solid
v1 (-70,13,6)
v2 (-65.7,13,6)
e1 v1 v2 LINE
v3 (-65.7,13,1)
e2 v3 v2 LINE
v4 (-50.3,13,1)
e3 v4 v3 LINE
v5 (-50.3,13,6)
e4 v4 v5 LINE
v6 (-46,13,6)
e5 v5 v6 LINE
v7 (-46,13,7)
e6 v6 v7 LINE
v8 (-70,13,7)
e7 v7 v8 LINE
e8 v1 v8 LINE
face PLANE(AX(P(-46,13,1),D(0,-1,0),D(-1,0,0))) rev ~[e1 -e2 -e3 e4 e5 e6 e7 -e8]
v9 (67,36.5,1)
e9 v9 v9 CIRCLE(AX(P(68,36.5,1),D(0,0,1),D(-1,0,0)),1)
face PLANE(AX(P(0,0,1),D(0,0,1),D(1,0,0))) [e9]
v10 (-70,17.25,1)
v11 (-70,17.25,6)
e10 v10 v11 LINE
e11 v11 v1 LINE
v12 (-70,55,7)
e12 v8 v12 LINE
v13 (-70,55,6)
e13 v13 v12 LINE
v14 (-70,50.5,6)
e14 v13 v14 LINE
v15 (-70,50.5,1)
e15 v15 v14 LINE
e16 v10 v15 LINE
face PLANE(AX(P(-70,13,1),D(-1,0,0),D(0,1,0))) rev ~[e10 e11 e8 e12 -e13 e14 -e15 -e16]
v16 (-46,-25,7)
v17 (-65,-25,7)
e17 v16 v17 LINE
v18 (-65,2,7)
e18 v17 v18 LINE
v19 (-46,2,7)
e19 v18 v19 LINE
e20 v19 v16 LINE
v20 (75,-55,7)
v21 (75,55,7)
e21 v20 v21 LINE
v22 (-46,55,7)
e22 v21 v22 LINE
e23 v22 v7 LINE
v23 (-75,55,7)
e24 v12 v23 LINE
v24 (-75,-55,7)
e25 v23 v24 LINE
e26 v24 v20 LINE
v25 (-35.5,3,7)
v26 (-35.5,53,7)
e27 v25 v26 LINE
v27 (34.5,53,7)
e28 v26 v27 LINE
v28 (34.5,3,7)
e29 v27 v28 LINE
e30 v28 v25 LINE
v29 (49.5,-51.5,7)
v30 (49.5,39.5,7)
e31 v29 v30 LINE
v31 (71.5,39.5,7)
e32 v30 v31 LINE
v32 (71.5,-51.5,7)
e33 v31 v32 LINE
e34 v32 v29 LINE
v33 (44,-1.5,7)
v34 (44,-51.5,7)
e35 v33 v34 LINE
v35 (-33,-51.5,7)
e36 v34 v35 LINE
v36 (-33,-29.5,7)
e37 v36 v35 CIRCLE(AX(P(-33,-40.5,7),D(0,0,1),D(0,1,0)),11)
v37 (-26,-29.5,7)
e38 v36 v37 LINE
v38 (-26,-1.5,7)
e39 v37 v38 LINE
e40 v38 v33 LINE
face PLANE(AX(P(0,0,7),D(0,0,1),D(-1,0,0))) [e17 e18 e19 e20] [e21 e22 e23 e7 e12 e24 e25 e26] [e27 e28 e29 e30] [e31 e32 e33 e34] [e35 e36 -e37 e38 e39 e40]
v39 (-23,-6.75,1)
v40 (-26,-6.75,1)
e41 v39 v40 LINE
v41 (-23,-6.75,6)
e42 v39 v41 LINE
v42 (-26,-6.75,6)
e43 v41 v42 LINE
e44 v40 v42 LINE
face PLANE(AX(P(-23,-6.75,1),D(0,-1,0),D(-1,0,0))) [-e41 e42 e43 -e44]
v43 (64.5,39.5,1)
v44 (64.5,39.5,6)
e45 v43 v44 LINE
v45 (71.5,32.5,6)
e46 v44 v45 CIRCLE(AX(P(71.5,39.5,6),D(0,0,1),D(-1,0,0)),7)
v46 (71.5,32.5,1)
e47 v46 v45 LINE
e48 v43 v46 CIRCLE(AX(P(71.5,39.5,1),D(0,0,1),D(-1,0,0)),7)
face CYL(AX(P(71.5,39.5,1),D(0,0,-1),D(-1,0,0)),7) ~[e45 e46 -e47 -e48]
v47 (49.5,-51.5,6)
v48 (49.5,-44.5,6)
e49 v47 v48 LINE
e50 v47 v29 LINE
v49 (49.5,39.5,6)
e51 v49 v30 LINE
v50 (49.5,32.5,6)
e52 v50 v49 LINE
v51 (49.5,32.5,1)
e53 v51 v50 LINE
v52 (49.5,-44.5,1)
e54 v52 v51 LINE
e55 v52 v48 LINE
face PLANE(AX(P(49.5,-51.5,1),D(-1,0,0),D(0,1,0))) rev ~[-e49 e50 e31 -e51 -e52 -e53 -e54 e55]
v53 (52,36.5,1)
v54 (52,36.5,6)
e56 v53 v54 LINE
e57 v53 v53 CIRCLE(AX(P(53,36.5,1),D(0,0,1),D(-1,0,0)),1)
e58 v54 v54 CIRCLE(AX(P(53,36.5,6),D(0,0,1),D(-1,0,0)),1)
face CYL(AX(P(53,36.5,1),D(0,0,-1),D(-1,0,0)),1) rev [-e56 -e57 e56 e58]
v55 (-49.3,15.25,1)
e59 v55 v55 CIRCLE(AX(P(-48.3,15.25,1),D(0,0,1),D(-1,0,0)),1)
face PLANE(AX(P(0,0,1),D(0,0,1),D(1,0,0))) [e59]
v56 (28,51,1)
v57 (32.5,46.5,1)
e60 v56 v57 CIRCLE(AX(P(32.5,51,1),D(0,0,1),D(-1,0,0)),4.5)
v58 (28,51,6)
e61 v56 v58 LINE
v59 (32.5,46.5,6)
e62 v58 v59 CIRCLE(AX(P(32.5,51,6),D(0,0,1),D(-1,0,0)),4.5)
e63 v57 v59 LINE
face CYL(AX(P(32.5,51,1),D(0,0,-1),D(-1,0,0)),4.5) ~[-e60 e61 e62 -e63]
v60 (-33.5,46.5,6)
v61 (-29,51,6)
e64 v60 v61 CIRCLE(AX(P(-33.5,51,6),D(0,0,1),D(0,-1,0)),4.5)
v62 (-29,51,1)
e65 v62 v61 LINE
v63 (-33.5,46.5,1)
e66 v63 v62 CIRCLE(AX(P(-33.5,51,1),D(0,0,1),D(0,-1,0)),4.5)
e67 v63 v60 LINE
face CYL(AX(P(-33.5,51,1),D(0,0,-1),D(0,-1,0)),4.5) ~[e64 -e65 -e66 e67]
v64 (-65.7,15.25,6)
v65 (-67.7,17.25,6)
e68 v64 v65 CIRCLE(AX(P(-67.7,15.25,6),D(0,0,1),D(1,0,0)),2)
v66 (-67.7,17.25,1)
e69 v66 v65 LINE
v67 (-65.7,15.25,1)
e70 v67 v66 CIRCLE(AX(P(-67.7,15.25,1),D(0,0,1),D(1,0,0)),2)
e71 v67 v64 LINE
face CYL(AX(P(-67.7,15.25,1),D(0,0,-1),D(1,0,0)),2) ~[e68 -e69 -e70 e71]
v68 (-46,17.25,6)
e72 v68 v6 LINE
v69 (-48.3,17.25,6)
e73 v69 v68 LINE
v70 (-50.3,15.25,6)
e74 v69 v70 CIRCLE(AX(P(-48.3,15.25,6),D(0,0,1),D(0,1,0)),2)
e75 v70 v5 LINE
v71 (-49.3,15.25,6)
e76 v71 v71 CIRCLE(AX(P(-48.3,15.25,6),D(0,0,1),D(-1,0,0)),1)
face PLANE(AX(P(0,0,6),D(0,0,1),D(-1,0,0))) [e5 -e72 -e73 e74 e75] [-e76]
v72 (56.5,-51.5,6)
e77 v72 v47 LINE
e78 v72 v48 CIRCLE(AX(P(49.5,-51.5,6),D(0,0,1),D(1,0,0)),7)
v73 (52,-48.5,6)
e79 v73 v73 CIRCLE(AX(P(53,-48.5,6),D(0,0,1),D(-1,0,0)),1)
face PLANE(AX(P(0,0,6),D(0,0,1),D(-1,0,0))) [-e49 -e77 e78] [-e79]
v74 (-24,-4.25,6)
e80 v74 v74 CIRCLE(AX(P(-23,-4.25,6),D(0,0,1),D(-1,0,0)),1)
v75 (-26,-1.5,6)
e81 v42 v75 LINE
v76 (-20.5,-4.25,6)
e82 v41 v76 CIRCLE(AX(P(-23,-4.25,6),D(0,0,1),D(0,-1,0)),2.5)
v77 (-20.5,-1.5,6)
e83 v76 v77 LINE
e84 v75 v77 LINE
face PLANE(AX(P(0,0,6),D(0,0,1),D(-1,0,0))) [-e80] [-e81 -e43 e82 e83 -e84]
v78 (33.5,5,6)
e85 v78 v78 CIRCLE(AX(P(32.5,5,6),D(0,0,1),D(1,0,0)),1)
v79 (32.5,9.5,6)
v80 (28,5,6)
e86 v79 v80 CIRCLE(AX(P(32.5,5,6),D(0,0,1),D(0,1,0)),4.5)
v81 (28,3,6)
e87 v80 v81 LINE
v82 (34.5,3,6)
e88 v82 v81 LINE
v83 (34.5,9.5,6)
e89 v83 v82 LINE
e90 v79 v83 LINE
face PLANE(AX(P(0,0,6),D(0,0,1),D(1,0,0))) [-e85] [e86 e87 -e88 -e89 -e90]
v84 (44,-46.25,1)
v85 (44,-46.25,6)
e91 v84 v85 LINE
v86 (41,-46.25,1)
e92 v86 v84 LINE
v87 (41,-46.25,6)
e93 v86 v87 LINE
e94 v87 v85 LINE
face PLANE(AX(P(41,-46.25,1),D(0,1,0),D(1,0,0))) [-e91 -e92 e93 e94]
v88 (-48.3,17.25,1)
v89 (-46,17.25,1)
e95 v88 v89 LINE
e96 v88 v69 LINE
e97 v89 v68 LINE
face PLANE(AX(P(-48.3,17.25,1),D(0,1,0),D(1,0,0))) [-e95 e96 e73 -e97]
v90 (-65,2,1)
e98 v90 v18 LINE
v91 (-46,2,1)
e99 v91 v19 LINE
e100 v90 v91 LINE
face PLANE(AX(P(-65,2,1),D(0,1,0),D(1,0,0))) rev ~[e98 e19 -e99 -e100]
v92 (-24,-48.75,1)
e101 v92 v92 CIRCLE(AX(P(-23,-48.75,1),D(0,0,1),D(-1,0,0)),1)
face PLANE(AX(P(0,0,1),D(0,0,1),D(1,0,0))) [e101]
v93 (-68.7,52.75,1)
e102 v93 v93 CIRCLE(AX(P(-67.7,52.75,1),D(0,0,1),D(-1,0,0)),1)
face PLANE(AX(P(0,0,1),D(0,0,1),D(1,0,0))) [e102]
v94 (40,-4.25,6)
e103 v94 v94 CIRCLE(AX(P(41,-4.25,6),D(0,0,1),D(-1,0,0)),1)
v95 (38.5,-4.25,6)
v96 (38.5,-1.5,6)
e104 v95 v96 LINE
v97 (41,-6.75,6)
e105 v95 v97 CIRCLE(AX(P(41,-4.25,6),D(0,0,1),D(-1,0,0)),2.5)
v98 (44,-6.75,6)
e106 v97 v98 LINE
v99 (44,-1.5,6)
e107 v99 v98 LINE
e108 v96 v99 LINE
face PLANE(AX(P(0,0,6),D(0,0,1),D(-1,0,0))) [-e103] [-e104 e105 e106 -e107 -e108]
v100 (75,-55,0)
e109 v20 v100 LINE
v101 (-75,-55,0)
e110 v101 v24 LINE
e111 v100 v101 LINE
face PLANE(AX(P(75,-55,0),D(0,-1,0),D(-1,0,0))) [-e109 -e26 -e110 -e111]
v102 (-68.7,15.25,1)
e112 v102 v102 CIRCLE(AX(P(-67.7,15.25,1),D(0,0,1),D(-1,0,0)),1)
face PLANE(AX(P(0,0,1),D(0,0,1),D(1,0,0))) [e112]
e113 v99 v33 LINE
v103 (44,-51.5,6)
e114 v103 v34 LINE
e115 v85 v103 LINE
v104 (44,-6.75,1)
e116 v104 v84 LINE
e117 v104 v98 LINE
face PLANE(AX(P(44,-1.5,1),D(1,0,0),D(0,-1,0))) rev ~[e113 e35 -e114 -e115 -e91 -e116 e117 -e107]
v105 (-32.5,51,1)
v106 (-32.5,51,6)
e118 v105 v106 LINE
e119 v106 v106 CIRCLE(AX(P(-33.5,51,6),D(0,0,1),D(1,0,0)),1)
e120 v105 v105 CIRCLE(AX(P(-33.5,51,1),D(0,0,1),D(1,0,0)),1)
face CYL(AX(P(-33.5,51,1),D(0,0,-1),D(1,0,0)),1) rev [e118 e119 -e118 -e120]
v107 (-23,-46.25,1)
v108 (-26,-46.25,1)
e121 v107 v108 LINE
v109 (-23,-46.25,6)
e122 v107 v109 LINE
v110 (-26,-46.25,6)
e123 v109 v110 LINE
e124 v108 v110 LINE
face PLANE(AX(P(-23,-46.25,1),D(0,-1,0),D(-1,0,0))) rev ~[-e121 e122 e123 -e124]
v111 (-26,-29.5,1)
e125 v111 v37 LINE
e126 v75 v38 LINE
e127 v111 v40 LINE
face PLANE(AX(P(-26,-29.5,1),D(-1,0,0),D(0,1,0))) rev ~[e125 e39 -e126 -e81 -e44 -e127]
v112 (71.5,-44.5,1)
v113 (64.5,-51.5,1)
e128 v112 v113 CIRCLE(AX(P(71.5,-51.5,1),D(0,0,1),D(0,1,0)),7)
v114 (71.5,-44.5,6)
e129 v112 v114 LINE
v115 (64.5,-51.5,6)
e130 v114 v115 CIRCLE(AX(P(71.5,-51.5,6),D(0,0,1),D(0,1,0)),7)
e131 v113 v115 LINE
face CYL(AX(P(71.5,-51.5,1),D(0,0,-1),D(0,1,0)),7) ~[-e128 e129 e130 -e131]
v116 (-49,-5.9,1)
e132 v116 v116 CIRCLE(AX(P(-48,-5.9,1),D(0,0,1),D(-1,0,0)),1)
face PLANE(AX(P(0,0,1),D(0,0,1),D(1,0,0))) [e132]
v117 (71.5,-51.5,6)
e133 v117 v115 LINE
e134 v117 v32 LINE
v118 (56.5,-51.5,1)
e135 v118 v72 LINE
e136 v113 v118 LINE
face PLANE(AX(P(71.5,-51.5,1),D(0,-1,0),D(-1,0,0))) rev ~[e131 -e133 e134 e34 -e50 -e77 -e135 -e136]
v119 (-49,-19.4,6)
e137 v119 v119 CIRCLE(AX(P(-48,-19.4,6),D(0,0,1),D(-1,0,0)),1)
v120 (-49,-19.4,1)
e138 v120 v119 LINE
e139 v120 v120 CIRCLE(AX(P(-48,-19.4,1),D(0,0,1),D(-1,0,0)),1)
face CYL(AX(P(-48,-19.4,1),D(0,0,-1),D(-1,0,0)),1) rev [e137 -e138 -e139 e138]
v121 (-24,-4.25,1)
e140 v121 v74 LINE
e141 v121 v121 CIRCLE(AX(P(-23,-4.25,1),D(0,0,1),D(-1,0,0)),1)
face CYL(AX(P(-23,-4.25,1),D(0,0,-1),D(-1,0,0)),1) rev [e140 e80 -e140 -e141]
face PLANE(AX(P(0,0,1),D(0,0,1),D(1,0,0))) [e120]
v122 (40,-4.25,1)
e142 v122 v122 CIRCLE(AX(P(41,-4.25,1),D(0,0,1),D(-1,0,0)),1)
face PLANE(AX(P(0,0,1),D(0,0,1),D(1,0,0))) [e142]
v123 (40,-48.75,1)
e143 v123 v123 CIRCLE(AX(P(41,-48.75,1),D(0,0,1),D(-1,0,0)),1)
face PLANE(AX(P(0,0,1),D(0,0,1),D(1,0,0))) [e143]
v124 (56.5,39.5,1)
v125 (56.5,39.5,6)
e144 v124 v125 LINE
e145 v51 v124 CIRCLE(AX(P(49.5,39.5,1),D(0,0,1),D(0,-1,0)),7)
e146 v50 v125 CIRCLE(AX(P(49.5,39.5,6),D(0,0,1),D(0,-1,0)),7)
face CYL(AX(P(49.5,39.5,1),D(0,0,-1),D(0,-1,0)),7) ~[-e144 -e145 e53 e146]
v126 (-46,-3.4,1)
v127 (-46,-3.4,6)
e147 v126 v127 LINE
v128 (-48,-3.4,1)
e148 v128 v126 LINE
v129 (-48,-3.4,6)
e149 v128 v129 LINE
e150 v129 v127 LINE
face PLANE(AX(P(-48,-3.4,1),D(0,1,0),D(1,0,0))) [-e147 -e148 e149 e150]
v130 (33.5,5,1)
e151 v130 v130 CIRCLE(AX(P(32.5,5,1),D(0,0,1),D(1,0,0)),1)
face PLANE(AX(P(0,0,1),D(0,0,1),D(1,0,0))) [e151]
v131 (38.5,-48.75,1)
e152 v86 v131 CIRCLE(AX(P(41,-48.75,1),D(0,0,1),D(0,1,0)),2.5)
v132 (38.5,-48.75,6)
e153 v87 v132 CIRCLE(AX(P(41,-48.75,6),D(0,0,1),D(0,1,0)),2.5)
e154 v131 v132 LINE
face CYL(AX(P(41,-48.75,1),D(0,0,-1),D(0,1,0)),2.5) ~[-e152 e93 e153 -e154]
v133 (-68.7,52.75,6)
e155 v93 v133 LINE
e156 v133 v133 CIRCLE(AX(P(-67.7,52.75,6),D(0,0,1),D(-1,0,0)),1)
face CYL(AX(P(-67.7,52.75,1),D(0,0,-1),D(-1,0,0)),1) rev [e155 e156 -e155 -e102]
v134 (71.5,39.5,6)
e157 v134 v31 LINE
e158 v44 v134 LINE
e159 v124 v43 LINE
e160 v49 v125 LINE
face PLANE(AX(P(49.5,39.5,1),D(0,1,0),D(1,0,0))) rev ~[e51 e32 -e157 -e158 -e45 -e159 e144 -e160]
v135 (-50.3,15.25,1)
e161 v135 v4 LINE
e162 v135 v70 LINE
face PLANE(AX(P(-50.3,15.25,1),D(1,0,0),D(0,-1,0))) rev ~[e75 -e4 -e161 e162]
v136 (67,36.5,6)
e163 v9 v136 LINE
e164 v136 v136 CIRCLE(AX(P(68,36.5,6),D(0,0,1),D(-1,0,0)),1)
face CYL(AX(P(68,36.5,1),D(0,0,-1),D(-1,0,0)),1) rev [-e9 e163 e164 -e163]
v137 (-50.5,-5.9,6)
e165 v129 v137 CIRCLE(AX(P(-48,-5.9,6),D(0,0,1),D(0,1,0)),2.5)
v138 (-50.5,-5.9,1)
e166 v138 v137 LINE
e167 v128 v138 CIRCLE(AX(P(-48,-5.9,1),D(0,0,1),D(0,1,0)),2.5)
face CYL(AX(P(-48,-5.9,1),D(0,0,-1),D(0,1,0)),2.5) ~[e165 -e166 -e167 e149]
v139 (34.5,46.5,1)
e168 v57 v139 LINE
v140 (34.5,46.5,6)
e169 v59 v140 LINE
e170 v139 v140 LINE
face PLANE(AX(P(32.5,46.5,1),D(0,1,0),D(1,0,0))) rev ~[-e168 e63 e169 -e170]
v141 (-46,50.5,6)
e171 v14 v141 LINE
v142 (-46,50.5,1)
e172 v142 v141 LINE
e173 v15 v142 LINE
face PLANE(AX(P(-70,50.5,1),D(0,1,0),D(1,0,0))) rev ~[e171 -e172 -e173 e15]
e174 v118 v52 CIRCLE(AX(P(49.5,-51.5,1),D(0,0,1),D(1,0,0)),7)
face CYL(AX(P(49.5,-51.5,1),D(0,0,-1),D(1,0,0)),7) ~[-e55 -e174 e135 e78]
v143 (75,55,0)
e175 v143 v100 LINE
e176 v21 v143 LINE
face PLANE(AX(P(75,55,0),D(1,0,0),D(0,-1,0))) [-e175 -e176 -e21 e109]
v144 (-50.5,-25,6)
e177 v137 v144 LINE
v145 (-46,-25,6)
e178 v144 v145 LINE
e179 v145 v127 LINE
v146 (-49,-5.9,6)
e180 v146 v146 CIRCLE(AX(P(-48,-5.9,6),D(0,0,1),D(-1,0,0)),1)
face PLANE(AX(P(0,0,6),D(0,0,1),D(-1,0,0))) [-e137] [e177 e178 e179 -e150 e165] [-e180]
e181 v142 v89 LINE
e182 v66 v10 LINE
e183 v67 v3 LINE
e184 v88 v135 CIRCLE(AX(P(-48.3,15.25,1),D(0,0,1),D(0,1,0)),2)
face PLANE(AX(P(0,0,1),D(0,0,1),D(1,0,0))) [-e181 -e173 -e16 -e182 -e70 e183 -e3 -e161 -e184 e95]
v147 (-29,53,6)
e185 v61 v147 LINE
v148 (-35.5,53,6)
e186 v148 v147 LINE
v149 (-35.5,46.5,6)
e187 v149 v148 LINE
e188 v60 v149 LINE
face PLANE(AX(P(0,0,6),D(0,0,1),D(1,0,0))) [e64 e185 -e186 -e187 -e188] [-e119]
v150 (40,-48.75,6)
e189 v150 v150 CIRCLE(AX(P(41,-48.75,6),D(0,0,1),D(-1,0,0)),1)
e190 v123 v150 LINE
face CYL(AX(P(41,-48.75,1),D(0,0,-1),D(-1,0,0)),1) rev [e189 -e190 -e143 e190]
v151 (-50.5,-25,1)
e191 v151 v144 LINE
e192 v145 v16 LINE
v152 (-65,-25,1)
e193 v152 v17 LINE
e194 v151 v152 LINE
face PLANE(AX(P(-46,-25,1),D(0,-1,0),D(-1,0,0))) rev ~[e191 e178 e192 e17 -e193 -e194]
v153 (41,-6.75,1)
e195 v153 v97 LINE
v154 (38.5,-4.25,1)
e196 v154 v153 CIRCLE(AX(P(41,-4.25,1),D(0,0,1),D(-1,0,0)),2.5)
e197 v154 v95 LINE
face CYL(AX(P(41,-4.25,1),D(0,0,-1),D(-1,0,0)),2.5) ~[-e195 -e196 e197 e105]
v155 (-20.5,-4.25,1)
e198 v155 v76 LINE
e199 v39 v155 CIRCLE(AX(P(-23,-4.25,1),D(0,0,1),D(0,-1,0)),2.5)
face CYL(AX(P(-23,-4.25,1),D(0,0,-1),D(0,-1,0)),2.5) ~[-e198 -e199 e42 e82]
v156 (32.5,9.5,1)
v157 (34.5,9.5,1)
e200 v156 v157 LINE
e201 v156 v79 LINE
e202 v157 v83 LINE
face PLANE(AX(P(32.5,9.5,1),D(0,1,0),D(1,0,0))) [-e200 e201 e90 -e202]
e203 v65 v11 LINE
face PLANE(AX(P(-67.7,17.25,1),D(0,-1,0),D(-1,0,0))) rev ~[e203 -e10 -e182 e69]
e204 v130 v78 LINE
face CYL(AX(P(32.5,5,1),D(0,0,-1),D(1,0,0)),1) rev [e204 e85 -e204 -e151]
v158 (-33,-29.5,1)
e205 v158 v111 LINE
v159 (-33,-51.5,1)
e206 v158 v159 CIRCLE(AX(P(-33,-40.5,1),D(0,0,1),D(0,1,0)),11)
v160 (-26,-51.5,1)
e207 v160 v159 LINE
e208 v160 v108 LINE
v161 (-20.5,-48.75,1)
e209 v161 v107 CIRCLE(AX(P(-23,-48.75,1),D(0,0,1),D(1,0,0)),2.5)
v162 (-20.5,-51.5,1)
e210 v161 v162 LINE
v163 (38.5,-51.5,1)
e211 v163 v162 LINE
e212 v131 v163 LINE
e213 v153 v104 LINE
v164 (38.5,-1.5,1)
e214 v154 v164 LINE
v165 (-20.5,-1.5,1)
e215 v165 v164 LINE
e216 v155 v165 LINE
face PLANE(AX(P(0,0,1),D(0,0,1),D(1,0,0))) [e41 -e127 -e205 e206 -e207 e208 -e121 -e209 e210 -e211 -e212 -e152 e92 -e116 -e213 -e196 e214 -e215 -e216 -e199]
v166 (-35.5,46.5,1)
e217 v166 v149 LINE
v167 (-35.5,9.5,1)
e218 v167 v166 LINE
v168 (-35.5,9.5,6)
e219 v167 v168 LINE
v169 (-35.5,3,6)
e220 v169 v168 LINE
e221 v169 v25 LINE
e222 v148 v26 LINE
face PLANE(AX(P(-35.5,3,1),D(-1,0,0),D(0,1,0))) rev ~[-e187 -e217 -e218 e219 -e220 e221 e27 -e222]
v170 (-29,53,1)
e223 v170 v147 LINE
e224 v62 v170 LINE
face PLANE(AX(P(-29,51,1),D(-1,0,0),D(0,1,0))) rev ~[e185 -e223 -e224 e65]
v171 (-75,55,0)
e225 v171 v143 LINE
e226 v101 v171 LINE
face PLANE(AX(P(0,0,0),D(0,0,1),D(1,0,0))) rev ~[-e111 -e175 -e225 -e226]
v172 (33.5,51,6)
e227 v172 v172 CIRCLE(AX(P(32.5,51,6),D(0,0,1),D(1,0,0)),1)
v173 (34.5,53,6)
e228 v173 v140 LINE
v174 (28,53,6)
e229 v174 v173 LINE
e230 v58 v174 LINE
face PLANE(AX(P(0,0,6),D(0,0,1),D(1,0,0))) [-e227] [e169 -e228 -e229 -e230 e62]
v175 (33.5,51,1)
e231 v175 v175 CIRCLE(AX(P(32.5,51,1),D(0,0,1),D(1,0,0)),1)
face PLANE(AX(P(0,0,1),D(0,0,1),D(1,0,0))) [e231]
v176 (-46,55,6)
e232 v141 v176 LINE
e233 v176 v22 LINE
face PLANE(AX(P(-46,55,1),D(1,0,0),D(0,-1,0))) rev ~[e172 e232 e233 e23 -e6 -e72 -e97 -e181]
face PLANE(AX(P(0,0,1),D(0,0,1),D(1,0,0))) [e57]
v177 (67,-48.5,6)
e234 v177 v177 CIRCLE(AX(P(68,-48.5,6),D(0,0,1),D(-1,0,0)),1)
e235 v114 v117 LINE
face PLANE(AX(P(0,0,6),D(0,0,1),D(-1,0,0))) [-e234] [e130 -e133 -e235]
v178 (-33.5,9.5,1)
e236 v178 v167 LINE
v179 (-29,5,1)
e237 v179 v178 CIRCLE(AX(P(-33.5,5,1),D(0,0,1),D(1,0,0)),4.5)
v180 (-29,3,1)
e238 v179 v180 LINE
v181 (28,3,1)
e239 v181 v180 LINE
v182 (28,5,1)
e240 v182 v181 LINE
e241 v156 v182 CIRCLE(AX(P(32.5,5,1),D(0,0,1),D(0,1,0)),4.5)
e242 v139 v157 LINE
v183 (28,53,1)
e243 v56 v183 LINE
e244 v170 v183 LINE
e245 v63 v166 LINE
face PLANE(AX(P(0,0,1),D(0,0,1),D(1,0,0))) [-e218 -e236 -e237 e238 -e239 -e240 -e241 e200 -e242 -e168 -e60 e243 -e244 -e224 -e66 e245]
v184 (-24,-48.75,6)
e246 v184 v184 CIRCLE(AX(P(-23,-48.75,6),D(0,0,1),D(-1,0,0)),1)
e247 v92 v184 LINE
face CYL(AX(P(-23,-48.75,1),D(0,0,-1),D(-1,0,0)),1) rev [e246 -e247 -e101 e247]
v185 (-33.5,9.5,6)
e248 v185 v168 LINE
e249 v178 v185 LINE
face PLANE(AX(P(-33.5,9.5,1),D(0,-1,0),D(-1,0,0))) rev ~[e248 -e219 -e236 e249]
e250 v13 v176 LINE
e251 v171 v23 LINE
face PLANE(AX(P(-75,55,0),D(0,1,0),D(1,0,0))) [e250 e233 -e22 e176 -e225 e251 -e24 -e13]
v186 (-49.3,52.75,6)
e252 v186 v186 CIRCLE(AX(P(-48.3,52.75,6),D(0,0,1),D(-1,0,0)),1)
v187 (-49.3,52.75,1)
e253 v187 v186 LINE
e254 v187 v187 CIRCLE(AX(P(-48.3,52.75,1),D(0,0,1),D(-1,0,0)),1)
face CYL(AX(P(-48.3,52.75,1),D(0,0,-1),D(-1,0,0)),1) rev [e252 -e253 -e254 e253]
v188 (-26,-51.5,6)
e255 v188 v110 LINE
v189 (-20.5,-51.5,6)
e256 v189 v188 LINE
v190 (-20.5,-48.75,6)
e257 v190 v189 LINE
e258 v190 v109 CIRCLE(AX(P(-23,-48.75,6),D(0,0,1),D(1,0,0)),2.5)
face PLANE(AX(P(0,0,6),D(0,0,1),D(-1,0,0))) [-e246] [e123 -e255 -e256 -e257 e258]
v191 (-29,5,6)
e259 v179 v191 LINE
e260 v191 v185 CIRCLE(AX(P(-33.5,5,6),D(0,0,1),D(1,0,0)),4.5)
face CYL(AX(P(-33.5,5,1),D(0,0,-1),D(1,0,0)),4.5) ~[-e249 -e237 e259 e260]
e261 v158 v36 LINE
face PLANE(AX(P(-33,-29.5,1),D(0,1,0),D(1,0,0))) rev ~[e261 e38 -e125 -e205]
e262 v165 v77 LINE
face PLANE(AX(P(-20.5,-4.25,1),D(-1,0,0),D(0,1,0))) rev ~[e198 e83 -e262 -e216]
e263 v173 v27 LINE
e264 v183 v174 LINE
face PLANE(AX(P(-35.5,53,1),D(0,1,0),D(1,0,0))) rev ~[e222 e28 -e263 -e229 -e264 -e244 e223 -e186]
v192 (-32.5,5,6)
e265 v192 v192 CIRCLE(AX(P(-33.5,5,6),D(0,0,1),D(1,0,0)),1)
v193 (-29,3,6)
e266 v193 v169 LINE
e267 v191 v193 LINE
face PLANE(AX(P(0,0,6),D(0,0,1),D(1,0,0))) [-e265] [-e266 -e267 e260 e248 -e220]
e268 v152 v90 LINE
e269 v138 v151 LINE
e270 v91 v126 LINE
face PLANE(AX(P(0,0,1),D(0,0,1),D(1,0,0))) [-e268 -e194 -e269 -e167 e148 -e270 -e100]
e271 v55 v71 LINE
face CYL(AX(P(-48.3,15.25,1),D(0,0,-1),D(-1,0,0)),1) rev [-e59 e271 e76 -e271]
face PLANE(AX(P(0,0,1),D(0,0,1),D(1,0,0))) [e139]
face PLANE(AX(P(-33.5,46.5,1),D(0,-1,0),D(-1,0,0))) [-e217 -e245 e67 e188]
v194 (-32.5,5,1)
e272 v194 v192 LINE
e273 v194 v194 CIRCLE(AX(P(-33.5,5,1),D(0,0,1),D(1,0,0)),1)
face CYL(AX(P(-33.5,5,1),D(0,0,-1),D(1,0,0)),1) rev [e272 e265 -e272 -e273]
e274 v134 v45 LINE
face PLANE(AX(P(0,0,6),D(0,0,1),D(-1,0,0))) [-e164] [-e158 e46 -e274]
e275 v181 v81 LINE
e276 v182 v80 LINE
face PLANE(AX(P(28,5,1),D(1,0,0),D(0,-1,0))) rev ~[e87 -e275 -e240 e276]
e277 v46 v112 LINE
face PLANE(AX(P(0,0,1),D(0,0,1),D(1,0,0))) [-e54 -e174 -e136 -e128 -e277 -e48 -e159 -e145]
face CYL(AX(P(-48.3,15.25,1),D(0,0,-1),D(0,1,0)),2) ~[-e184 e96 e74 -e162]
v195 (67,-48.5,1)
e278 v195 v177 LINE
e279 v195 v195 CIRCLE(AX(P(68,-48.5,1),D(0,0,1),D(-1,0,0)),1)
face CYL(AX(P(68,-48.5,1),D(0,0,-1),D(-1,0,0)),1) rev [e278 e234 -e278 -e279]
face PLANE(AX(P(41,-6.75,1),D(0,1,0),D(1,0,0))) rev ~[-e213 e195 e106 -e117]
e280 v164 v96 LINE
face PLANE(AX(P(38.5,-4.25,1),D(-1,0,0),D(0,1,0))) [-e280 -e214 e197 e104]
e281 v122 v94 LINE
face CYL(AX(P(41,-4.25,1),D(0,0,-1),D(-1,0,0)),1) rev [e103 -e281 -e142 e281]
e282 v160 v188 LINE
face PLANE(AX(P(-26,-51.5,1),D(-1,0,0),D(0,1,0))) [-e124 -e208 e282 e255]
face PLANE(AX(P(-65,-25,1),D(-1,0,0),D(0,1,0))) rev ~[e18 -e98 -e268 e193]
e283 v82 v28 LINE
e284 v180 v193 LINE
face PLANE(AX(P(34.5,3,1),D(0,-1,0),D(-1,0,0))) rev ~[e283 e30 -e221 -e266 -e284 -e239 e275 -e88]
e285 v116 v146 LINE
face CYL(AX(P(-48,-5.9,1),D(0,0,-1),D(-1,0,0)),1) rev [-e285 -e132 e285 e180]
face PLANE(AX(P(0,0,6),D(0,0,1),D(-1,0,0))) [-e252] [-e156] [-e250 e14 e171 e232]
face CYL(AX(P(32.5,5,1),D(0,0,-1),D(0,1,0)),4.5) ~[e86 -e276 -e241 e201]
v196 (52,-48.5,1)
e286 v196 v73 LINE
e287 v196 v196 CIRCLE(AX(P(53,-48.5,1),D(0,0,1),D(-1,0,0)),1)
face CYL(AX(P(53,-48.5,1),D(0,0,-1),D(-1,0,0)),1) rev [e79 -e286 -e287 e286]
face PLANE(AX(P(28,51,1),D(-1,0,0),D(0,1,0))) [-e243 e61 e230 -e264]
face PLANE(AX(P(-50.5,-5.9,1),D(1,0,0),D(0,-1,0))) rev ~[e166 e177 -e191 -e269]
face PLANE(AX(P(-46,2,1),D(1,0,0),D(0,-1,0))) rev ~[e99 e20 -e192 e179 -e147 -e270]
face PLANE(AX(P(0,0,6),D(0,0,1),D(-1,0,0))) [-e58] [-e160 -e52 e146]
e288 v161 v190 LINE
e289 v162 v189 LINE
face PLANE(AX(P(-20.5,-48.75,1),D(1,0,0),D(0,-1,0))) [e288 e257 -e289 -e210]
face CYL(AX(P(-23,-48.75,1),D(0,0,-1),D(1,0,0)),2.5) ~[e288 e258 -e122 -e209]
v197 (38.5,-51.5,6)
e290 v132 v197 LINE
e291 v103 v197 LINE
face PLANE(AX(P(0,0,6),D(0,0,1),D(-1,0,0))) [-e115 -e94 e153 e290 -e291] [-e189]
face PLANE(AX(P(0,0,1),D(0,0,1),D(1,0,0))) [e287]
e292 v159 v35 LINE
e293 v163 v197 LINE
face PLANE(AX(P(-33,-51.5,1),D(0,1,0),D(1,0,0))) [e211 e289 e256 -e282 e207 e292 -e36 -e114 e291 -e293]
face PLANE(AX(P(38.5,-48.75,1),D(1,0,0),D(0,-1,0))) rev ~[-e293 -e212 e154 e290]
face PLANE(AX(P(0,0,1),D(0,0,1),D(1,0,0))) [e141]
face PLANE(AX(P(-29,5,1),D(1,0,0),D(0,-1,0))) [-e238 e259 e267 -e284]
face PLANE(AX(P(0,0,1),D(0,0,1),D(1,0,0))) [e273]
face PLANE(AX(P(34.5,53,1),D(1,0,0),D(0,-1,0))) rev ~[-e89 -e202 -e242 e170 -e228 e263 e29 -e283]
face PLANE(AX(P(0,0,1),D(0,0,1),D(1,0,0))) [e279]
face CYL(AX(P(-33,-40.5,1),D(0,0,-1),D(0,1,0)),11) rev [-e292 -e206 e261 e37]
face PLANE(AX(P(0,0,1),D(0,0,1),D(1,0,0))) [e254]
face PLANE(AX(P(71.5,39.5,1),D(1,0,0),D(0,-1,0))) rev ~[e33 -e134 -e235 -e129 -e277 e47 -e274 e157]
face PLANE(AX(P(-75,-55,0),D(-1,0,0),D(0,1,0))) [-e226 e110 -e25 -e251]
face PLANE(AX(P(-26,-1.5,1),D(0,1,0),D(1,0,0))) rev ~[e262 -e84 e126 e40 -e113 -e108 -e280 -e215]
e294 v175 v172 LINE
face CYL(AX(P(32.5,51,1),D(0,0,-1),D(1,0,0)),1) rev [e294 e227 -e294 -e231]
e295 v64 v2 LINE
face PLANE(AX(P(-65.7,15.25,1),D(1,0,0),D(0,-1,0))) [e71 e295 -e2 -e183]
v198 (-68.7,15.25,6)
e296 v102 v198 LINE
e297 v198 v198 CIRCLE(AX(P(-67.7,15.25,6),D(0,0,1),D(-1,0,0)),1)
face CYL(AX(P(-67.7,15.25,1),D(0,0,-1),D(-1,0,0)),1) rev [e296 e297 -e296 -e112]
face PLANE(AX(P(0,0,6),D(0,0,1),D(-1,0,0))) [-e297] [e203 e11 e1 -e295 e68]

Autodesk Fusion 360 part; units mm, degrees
sketch "Sketch1" plane through (0, 0, 0) normal (0, 0, 1) x (1, 0, 0)
  line L0 (-75, 55) -> (75, 55)
  line L1 (75, 55) -> (75, -55)
  line L2 (75, -55) -> (-75, -55)
  line L3 (-75, -55) -> (-75, 55)
  line L4 (75, -55) -> (-75, 55) construction
  dimension "d1" = 150
  dimension "d2" = 110
extrude "Extrude1" add sketch "Sketch1" along normal blind 1
sketch "Sketch2" plane through (0, 0, 1) normal (0, 0, 1) x (-1, 0, 0)
  line L0 (75, 55) -> (-75, 55)
  line L1 (-75, 55) -> (-75, -55)
  line L2 (-75, -55) -> (75, -55)
  line L3 (75, -55) -> (75, 55)
  line L4 (35.5, -53) -> (-34.5, -53)
  line L5 (-34.5, -53) -> (-34.5, -3)
  line L6 (-34.5, -3) -> (35.5, -3)
  line L7 (35.5, -3) -> (35.5, -53)
  line L8 (26, 1.5) -> (-44, 1.5)
  line L9 (-44, 1.5) -> (-44, 51.5)
  line L10 (-44, 51.5) -> (26, 51.5)
  line L11 (26, 51.5) -> (26, 1.5)
  line L12 (-49.5, -39.5) -> (-71.5, -39.5)
  line L13 (-71.5, -39.5) -> (-71.5, 51.5)
  line L14 (-71.5, 51.5) -> (-49.5, 51.5)
  line L15 (-49.5, 51.5) -> (-49.5, -39.5)
  line L16 (65, -2) -> (46, -2)
  line L17 (46, -2) -> (46, 25)
  line L18 (46, 25) -> (65, 25)
  line L19 (65, 25) -> (65, -2)
  arc A0 (33, 29.5) -> (33, 51.5) centre (33, 40.5) ccw
  line L20 (33, 29.5) -> (26, 29.5)
  line L21 (33, 51.5) -> (26, 51.5)
  line L22 (70, -55) -> (46, -55)
  line L23 (46, -55) -> (46, -13)
  line L24 (46, -13) -> (70, -13)
  line L25 (70, -13) -> (70, -55)
  point P0 (26, 40.5)
  point P1 (33, 40.5)
  dimension "d5" = 70
  dimension "d6" = 50
  dimension "d7" = 70
  dimension "d8" = 50
  dimension "d9" = 22
  dimension "d10" = 91
  dimension "d11" = 19
  dimension "d12" = 27
  dimension "d13" = 3.5
  dimension "d14" = 3.5
  dimension "d15" = 3.5
  dimension "d16" = 2
  dimension "d18" = 10
  dimension "d20" = 20
  dimension "d21" = 5.5
  dimension "d22" = 30
  dimension "d23" = 15
  dimension "d37" = 11
  dimension "d38" = 7
  dimension "d39" = 11
  dimension "d47" = 24
  dimension "d48" = 42
  dimension "d49" = 5
extrude "Extrude2" add sketch "Sketch2" along normal blind 6 contours L0 L1 L2 L3 L23 L24 L25
sketch "Sketch3" plane through (0, 0, 1) normal (0, 0, 1) x (-1, 0, 0)
  line L0 (-71.5, -39.5) -> (-71.5, 51.5)
  line L1 (-71.5, 51.5) -> (-49.5, 51.5)
  line L2 (-49.5, 51.5) -> (-49.5, -39.5)
  line L3 (-49.5, -39.5) -> (-71.5, -39.5)
  circle A0 centre (-53, -36.5) radius 1
  line L4 (-68, 48.5) -> (-53, -36.5) construction
  line L5 (-71.5, -39.5) -> (-49.5, 51.5) construction
  circle A1 centre (-68, -36.5) radius 1
  circle A2 centre (-53, 48.5) radius 1
  circle A3 centre (-68, 48.5) radius 1
  arc A4 (-64.5, -39.5) -> (-71.5, -32.5) centre (-71.5, -39.5) ccw
  arc A5 (-49.5, -32.5) -> (-56.5, -39.5) centre (-49.5, -39.5) ccw
  arc A6 (-71.5, 44.5) -> (-64.5, 51.5) centre (-71.5, 51.5) ccw
  arc A7 (-56.5, 51.5) -> (-49.5, 44.5) centre (-49.5, 51.5) ccw
  dimension "d24" = 2
  dimension "d27" = -15
  dimension "d28" = 85
  dimension "d29" = 7
  dimension "d30" = 7
  dimension "d31" = 7
  dimension "d32" = 7
sketch "Sketch4" plane through (0, 0, 1) normal (0, 0, 1) x (-1, 0, 0)
  line L0 (46, 25) -> (46, -2)
  line L1 (46, -2) -> (65, -2)
  line L2 (65, -2) -> (65, 25)
  line L3 (65, 25) -> (46, 25)
  circle A0 centre (48, 5.9) radius 1
  circle A1 centre (48, 19.4) radius 1
  line L4 (46, -2) -> (46, 25)
  line L5 (46, 25) -> (65, 25)
  arc A2 (48, 3.4) -> (50.5, 5.9) centre (48, 5.9) ccw
  line L6 (48, 3.4) -> (46, 3.4)
  line L7 (50.5, 5.9) -> (50.5, 25)
  dimension "d40" = 2
  dimension "d41" = 2
  dimension "d42" = 13.5
  dimension "d43" = 2
  dimension "d44" = 5.6
  dimension "d45" = 7.9
  dimension "d46" = 2.5
sketch "Sketch5" plane through (0, 0, 1) normal (0, 0, 1) x (-1, 0, 0)
  circle A0 centre (67.7, -52.75) radius 1
  circle A1 centre (48.3, -52.75) radius 1
  circle A2 centre (67.7, -15.25) radius 1
  circle A3 centre (48.3, -15.25) radius 1
  line L0 (67.7, -52.75) -> (48.3, -15.25) construction
  line L1 (46, -13) -> (46, -55) construction
  line L2 (46, -55) -> (70, -55) construction
  line L3 (70, -55) -> (70, -13) construction
  line L4 (70, -13) -> (46, -13) construction
  line L5 (46, -55) -> (70, -13) construction
  line L6 (70, -50.5) -> (46, -50.5)
  line L7 (70, -55) -> (46, -55)
  arc A4 (48.3, -17.25) -> (50.3, -15.25) centre (48.3, -15.25) ccw
  arc A5 (65.7, -15.25) -> (67.7, -17.25) centre (67.7, -15.25) ccw
  line L8 (67.7, -17.25) -> (70, -17.25)
  line L9 (65.7, -15.25) -> (65.7, -13)
  line L10 (50.3, -15.25) -> (50.3, -13)
  line L11 (48.3, -17.25) -> (46, -17.25)
  line L12 (70, -55) -> (70, -50.5)
  line L13 (46, -50.5) -> (46, -55)
  line L14 (50.3, -13) -> (46, -13)
  line L15 (46, -17.25) -> (46, -13)
  line L16 (70, -17.25) -> (70, -13)
  line L17 (70, -13) -> (65.7, -13)
  dimension "d50" = 2
  dimension "d53" = -19.4
  dimension "d54" = 37.5
  dimension "d55" = 2.25
  dimension "d56" = 2.25
  dimension "d57" = 2
  dimension "d58" = 2
sketch "Sketch6" plane through (0, 0, 1) normal (0, 0, 1) x (1, 0, 0)
  line L0 (-35.5, 53) -> (34.5, 53)
  line L1 (-35.5, 3) -> (-35.5, 53)
  line L2 (34.5, 53) -> (34.5, 3)
  line L3 (34.5, 3) -> (-35.5, 3)
  circle A0 centre (-33.5, 5) radius 1
  line L4 (-33.5, 51) -> (32.5, 5) construction
  line L5 (34.5, 53) -> (-35.5, 3) construction
  circle A1 centre (32.5, 5) radius 1
  circle A2 centre (-33.5, 51) radius 1
  circle A3 centre (32.5, 51) radius 1
  arc A4 (-33.5, 46.5) -> (-29, 51) centre (-33.5, 51) ccw
  line L6 (-29, 51) -> (-29, 53)
  line L7 (-33.5, 46.5) -> (-35.5, 46.5)
  line L8 (28, 5) -> (28, 3)
  arc A5 (32.5, 9.5) -> (28, 5) centre (32.5, 5) ccw
  line L9 (32.5, 9.5) -> (34.5, 9.5)
  arc A6 (28, 51) -> (32.5, 46.5) centre (32.5, 51) ccw
  line L10 (32.5, 46.5) -> (34.5, 46.5)
  line L11 (28, 51) -> (28, 53)
  arc A7 (-29, 5) -> (-33.5, 9.5) centre (-33.5, 5) ccw
  line L12 (-33.5, 9.5) -> (-35.5, 9.5)
  line L13 (-29, 5) -> (-29, 3)
  point P0 (-0.5, 28)
  dimension "d59" = 2
  dimension "d62" = 66
  dimension "d63" = 46
  dimension "d64" = 4.5
  dimension "d66" = 360
  dimension "d67" = 4.5
sketch "Sketch7" plane through (0, 0, 1) normal (0, 0, 1) x (-1, 0, 0)
  arc A0 (33, 29.5) -> (33, 51.5) centre (33, 40.5) ccw
  circle A1 centre (-41, 4.25) radius 1
  circle A2 centre (23, 4.25) radius 1
  circle A3 centre (-41, 48.75) radius 1
  circle A4 centre (23, 48.75) radius 1
  line L0 (26, 29.5) -> (26, 1.5) construction
  line L1 (26, 1.5) -> (-44, 1.5) construction
  line L2 (-44, 1.5) -> (-44, 51.5) construction
  line L3 (-44, 51.5) -> (33, 51.5) construction
  line L4 (33, 29.5) -> (26, 29.5) construction
  arc A5 (33, 29.5) -> (33, 51.5) centre (33, 40.5) ccw construction
  line L5 (26, 1.5) -> (-44, 51.5) construction
  line L6 (-41, 4.25) -> (23, 48.75) construction
  arc A6 (23, 6.75) -> (20.5, 4.25) centre (23, 4.25) ccw
  line L7 (20.5, 4.25) -> (20.5, 1.5)
  line L8 (23, 6.75) -> (26, 6.75)
  line L9 (26, 6.75) -> (26, 1.5)
  line L10 (26, 1.5) -> (20.5, 1.5)
  line L11 (-44, 51.5) -> (-38.5, 51.5)
  line L12 (-44, 46.25) -> (-44, 51.5)
  circle A7 centre (-41, 48.75) radius 1
  line L13 (-38.5, 48.75) -> (-38.5, 51.5)
  arc A8 (-41, 46.25) -> (-38.5, 48.75) centre (-41, 48.75) ccw
  line L14 (-41, 46.25) -> (-44, 46.25)
  arc A9 (-38.5, 4.25) -> (-41, 6.75) centre (-41, 4.25) ccw
  line L15 (-41, 4.25) -> (-38.5, 4.25) construction
  line L16 (-41, 4.25) -> (-41, 6.75) construction
  line L17 (-41, 6.75) -> (-44, 6.75)
  line L18 (-38.5, 4.25) -> (-38.5, 1.5)
  line L19 (-38.5, 1.5) -> (-44, 1.5)
  line L20 (-44, 1.5) -> (-44, 6.75)
  line L21 (26, 51.5) -> (26, 46.25)
  line L22 (20.5, 51.5) -> (26, 51.5)
  arc A10 (20.5, 48.75) -> (23, 46.25) centre (23, 48.75) ccw
  line L23 (23, 46.25) -> (26, 46.25)
  line L24 (20.5, 48.75) -> (20.5, 51.5)
  circle A11 centre (23, 48.75) radius 1
  point P0 (-9, 26.5)
  dimension "d77" = 2
  dimension "d80" = 64
  dimension "d81" = 44.5
  dimension "d82" = 2.5
  dimension "d84" = 360
  dimension "d85" = 2.5
  dimension "d86" = 90
extrude "Extrude3" add sketch "Sketch5" sketch "Sketch6" sketch "Sketch3" sketch "Sketch7" sketch "Sketch4" along normal blind 5 of sketch 2 contours L0 L1 A4 L6 L7 | L0 L2 A6 L10 L11 | L1 L3 A7 L12 L13 | L2 L3 L8 A5 L9 of sketch 3 contours L0 L3 A4 | L0 L1 A6 | L2 L3 A5 | L1 L2 A7 of sketch 4 of sketch 5 contours L0 L3 L4 L5 A2 L6 L7
equation "d15 = d14"
equation "d38 = 18 mm - 11 mm"
equation "d56 = d55"
